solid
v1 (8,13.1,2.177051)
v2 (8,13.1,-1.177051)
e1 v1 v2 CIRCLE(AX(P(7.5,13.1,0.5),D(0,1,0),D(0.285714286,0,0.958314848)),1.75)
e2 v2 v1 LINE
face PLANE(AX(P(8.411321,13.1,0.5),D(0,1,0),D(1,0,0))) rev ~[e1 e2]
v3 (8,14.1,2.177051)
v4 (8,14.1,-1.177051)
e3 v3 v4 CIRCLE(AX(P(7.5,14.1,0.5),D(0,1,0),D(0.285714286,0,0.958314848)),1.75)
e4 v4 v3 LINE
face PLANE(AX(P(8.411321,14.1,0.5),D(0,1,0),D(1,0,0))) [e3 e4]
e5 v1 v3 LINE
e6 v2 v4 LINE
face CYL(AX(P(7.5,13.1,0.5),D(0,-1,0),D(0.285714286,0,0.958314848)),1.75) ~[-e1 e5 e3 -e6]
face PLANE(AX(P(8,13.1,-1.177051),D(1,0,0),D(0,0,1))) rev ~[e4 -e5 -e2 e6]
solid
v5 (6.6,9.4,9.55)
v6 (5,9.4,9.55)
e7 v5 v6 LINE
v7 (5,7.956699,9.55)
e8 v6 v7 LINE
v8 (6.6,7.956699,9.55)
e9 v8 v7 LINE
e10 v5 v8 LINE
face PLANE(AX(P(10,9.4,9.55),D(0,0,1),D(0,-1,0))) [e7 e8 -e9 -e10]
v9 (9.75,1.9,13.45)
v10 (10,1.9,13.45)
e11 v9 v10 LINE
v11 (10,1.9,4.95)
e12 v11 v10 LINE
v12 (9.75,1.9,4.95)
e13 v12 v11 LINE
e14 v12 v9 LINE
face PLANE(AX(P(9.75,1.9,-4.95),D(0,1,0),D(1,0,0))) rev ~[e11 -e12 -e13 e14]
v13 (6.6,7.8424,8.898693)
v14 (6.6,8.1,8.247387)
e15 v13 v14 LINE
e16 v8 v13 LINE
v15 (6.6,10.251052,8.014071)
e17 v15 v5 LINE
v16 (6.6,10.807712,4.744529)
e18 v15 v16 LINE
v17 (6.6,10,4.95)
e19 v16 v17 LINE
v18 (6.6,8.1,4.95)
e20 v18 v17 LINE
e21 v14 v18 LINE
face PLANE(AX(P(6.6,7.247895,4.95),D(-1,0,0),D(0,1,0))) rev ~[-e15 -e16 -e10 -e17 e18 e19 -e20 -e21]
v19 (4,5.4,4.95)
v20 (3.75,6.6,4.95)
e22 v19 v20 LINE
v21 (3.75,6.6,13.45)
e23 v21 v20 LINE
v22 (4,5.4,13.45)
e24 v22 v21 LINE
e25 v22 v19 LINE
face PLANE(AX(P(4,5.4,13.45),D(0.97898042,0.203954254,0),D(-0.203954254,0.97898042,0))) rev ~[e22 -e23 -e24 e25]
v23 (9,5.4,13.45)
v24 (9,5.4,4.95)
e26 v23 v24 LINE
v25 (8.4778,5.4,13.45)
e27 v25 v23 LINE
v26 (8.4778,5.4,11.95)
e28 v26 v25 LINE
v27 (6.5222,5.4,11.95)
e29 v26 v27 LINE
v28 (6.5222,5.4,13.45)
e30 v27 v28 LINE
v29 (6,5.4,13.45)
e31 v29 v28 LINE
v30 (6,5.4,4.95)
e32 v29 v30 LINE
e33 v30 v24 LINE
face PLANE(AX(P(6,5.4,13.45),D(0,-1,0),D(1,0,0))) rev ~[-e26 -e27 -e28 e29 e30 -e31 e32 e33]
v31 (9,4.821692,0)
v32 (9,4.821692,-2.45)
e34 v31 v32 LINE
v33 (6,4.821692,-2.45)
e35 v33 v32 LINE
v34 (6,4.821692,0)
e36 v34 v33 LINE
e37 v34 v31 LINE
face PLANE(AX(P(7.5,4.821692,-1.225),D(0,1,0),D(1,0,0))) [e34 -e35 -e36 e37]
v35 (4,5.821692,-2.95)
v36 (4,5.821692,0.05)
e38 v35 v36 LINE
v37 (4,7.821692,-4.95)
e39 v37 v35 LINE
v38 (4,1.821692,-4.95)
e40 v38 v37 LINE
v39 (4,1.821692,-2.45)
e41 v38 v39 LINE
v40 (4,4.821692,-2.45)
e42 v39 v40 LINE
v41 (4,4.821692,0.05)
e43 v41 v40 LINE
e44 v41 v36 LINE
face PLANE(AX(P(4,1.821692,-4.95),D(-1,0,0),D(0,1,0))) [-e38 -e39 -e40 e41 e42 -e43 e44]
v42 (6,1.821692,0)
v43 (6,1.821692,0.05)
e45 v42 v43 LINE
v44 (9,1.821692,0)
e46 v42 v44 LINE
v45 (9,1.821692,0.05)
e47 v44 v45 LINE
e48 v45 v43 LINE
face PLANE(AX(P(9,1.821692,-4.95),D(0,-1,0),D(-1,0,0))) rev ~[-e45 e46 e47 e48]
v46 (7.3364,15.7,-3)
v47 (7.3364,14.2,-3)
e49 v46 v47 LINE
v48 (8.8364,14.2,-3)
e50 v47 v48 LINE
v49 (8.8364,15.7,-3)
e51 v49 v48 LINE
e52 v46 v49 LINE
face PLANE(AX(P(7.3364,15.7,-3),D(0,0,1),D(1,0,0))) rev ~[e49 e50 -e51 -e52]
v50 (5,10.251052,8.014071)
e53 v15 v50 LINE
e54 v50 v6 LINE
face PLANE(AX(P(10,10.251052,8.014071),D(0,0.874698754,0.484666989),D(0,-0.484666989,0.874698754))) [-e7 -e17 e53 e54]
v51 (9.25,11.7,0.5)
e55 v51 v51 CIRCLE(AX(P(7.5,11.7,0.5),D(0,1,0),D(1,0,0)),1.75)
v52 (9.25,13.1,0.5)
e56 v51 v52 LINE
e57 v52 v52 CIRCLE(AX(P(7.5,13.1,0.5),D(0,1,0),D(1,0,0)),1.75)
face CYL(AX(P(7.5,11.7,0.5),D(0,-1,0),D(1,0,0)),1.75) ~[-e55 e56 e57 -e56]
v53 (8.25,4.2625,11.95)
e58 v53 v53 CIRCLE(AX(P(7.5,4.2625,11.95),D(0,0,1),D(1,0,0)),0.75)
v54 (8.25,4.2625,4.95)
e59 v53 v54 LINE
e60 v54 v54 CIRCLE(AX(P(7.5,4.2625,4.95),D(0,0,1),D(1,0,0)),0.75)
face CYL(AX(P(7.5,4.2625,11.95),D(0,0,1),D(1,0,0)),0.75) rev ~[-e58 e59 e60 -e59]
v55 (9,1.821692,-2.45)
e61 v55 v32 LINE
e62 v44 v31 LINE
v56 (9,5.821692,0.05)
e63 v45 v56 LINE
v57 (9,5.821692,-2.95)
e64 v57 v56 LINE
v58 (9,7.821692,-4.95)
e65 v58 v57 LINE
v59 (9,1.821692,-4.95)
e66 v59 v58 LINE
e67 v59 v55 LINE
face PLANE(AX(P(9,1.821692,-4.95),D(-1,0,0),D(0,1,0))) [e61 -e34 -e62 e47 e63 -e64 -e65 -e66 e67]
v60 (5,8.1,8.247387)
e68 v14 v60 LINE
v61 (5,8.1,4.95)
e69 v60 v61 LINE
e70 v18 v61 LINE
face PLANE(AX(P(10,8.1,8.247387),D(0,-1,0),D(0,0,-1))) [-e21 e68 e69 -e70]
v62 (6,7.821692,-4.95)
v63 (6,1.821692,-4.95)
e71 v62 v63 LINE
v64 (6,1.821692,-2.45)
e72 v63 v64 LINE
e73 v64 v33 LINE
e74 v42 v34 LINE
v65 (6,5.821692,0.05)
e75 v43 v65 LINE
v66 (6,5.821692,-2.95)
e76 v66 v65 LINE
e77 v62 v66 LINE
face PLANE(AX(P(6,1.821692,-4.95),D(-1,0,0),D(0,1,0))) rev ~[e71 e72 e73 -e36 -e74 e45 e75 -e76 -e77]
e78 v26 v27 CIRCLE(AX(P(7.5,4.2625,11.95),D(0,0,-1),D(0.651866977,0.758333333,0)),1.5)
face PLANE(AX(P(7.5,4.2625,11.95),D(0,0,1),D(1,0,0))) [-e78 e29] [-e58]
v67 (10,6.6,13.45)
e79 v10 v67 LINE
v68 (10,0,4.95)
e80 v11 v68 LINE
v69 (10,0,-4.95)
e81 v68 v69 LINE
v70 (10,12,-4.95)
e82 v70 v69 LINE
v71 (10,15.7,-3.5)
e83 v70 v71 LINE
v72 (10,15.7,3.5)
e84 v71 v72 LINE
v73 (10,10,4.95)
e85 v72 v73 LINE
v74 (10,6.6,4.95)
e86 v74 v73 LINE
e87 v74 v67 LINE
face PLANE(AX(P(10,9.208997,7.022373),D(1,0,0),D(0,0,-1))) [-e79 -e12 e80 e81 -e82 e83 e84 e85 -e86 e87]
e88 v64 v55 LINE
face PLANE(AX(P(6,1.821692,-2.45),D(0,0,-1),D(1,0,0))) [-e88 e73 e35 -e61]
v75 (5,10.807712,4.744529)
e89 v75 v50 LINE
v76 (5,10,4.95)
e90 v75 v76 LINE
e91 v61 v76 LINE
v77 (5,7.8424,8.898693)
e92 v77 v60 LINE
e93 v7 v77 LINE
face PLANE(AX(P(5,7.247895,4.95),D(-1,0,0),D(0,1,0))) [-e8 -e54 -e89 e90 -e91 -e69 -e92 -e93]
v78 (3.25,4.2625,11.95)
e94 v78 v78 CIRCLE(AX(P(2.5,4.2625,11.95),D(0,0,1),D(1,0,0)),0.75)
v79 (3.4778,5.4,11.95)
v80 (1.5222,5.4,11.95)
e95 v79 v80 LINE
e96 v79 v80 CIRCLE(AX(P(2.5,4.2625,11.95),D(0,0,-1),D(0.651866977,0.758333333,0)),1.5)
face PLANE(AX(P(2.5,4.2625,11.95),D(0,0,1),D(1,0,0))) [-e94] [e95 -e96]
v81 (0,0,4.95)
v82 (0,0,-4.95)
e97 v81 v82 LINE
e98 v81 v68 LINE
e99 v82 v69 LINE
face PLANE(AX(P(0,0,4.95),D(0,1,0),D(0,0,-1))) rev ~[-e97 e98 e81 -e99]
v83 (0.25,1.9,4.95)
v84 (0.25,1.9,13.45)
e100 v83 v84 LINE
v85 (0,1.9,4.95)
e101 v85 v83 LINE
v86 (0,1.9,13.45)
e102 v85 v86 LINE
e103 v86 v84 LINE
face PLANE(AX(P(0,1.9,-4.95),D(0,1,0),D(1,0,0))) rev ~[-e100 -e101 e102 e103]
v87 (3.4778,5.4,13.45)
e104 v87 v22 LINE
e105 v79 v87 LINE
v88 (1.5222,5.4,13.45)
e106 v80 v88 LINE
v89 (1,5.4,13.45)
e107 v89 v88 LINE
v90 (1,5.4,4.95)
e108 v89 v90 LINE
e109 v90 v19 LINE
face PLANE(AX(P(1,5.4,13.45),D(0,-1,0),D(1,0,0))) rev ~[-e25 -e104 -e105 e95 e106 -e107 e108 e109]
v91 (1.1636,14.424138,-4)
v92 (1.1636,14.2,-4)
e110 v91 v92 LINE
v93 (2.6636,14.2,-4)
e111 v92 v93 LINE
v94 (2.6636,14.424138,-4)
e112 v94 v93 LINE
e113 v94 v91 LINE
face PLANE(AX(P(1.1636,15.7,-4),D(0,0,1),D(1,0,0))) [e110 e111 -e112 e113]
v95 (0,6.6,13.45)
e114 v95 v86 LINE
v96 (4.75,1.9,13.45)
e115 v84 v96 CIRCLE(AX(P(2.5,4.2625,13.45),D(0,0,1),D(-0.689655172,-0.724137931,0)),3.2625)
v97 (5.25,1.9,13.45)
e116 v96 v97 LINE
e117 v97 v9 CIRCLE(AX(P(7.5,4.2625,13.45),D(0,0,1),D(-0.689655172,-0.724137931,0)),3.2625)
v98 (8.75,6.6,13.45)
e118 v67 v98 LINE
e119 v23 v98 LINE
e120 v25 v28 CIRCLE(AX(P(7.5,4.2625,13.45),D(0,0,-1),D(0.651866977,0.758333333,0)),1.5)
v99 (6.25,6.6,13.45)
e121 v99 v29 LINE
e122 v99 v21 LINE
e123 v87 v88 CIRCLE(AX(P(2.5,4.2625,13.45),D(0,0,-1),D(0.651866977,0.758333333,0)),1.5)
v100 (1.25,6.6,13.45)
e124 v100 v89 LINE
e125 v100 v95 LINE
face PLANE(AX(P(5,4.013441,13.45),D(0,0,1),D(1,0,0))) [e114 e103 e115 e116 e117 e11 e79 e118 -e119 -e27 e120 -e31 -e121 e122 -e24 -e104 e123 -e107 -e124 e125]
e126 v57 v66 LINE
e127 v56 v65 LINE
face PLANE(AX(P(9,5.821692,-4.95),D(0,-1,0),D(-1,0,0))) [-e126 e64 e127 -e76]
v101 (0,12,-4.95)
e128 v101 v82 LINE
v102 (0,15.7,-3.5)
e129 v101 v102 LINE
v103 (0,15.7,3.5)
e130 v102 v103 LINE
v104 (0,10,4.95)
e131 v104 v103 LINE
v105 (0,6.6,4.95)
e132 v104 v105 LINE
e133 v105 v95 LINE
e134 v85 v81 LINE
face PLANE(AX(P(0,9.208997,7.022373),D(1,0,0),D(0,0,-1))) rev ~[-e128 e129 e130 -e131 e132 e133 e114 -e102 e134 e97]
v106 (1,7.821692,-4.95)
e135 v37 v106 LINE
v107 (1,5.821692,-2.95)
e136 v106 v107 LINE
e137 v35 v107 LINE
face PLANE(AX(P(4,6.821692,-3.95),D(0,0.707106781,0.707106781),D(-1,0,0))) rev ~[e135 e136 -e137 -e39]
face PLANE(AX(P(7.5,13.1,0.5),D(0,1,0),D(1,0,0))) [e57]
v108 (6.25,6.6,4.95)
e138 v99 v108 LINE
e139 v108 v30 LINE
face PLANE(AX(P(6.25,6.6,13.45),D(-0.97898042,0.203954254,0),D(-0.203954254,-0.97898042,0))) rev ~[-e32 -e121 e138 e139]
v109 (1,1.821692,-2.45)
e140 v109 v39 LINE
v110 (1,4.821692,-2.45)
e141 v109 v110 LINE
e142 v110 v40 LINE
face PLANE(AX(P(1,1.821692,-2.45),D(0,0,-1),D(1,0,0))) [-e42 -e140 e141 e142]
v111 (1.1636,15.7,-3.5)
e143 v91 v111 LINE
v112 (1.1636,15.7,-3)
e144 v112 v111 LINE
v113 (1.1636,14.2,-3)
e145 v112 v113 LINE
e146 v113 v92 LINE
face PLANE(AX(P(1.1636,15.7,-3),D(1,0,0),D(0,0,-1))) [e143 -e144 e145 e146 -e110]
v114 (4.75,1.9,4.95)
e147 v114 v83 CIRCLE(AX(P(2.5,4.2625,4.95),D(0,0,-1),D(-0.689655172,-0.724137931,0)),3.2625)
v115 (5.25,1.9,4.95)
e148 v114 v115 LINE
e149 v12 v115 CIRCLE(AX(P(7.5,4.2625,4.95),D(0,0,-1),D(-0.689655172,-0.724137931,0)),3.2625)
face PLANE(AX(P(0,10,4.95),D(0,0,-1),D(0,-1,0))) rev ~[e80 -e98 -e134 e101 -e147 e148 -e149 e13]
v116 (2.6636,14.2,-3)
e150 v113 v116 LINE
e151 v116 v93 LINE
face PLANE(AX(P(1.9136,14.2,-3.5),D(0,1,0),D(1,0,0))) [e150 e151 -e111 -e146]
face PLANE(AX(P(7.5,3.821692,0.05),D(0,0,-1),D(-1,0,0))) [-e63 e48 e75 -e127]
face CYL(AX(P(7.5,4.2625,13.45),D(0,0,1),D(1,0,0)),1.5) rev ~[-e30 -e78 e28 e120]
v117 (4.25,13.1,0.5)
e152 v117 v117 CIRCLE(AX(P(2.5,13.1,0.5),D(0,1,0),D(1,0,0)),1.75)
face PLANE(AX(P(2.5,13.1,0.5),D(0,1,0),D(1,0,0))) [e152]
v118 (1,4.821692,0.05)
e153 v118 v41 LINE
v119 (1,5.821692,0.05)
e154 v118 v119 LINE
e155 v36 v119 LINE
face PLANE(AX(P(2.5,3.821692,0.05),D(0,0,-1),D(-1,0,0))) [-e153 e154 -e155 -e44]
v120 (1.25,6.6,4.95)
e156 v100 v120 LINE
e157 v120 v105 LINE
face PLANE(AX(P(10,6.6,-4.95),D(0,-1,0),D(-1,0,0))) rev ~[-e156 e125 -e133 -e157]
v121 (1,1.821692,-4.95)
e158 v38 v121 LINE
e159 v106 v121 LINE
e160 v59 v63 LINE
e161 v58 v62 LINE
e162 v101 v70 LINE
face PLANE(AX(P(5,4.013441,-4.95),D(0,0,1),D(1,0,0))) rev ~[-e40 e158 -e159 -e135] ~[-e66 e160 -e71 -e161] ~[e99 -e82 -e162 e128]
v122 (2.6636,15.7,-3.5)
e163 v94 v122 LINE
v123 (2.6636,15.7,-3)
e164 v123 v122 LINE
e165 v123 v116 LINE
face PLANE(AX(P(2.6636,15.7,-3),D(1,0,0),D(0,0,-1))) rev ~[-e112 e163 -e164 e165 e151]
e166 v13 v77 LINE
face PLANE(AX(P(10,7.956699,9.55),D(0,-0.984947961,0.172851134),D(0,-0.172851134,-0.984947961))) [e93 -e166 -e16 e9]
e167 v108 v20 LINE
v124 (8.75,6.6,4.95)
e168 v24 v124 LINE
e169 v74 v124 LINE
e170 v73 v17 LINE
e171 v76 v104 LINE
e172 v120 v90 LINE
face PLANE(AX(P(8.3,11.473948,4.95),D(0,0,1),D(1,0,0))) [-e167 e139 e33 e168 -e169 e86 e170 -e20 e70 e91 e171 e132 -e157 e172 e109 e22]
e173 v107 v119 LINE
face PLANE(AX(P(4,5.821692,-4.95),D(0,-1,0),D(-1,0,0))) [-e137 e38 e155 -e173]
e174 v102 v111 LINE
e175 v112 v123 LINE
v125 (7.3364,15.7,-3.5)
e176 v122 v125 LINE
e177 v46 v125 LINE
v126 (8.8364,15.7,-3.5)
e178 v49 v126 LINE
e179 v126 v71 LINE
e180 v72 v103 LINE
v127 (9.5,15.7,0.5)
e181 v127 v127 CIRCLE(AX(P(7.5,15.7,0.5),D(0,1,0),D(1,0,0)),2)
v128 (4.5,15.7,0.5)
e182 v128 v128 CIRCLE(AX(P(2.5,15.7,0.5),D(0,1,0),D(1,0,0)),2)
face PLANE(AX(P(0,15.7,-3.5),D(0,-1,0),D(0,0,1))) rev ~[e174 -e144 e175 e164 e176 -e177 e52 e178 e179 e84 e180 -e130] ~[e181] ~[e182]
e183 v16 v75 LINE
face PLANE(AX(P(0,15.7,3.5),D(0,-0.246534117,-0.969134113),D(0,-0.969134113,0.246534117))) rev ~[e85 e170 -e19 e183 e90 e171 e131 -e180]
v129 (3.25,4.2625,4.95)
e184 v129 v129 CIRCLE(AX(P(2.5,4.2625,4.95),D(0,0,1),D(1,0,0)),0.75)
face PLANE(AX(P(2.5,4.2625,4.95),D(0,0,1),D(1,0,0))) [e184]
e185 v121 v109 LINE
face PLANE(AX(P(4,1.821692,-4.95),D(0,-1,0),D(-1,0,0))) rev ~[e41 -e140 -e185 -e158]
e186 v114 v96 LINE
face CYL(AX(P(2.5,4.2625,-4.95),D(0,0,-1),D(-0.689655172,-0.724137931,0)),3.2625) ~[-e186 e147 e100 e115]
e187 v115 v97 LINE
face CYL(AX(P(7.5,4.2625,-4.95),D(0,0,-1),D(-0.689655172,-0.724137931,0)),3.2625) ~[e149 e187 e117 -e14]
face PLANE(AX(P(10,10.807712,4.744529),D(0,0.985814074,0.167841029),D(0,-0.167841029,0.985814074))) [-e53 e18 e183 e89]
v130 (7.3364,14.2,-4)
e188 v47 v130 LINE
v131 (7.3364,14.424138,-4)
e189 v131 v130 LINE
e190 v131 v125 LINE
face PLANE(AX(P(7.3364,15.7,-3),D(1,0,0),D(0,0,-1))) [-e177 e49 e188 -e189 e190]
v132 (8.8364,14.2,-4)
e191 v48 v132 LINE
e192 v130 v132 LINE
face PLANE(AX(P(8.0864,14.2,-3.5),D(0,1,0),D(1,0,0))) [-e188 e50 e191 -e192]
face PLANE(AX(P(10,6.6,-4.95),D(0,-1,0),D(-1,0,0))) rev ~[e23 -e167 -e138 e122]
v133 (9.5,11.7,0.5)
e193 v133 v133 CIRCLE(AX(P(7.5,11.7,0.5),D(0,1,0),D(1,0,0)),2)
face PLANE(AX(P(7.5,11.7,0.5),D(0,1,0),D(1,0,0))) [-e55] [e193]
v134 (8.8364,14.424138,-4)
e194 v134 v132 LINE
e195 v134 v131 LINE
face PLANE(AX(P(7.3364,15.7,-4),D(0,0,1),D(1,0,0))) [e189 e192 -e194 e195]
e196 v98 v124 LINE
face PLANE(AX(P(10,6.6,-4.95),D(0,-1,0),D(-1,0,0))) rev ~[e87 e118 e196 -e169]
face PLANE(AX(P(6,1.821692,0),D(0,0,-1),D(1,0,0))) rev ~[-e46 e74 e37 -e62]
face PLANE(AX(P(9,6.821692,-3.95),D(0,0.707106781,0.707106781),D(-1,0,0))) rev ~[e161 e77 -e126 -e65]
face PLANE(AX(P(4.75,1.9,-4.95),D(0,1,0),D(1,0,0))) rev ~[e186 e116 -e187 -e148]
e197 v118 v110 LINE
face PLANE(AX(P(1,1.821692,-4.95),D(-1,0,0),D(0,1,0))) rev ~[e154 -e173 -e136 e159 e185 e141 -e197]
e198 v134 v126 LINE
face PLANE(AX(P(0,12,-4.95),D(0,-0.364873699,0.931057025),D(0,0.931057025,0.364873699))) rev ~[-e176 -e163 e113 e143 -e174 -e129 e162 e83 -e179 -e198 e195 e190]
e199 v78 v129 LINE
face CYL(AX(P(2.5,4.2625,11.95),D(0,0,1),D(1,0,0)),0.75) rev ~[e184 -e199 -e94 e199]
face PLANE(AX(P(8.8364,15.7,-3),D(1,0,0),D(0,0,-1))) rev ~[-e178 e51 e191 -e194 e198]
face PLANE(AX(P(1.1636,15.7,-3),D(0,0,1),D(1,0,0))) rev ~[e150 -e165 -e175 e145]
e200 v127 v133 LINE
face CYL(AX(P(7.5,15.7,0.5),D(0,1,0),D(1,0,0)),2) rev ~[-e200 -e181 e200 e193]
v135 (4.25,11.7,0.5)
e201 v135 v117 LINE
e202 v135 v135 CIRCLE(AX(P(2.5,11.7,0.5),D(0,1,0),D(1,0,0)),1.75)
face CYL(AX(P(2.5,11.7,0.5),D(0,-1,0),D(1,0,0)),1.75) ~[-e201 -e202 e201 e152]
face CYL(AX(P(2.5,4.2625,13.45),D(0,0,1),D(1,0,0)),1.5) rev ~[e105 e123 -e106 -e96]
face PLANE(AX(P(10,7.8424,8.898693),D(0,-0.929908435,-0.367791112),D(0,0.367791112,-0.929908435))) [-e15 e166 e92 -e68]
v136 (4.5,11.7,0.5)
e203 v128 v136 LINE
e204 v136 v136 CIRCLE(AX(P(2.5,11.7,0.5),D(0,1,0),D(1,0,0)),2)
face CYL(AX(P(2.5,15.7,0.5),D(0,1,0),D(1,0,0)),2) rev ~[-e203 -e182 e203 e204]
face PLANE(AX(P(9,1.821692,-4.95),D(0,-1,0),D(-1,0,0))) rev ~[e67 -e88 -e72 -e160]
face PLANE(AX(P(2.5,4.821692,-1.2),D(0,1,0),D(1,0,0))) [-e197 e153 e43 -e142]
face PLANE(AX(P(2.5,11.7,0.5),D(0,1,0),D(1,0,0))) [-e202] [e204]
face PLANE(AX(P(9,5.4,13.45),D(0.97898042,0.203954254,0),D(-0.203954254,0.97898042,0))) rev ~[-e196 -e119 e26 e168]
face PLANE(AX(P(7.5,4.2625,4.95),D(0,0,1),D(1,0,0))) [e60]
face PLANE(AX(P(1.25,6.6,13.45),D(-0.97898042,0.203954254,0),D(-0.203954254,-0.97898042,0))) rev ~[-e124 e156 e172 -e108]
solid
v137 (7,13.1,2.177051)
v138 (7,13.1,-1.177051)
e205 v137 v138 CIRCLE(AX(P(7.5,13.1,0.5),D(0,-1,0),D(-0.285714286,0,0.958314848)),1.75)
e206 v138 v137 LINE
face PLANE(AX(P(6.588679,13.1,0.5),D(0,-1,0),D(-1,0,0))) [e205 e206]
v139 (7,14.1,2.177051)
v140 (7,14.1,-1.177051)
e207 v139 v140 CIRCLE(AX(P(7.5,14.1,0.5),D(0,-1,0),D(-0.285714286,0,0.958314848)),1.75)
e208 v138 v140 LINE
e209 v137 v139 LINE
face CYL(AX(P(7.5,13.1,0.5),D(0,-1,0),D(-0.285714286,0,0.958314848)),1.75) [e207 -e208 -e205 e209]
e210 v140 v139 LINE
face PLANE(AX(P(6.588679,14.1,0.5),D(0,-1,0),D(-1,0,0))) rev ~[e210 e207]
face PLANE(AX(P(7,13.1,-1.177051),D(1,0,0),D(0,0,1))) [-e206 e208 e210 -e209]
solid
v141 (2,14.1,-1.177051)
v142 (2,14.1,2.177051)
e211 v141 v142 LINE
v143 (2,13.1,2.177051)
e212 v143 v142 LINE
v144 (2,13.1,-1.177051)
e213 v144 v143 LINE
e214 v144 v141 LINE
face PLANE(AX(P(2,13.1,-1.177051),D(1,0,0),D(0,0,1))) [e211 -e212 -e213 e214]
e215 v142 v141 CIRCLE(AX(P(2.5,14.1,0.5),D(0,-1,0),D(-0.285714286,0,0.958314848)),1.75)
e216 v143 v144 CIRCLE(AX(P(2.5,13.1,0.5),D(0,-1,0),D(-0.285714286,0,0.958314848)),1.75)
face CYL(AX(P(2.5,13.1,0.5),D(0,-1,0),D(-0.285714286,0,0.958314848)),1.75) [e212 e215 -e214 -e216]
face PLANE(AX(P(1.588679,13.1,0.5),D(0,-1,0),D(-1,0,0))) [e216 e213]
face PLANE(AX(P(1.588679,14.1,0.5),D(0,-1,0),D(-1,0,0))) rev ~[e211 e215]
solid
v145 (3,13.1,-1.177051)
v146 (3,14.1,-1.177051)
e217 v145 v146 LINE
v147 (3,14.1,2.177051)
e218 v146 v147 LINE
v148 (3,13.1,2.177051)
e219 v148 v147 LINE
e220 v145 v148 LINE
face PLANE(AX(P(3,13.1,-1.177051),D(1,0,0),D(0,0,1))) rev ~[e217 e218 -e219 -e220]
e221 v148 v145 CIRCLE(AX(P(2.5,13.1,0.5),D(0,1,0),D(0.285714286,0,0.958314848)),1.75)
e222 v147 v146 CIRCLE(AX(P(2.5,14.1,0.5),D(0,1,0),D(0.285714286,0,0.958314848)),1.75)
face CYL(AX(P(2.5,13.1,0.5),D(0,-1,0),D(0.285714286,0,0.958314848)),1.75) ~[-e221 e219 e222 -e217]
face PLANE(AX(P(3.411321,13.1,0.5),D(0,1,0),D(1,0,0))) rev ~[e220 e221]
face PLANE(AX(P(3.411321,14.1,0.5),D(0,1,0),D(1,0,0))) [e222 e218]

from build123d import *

# Parameters (mm, degrees)
AUFSATZ_LINEAR_AUSTRAGEN1_DEPTH             = 10
AUFSATZ_LINEAR_START                        = -9.9
AUFSATZ_LINEAR_AUSTRAGEN2_DEPTH             = 18.4
SCHNITT_LINEAR_AUSTRAGEN1_DEPTH             = 8.5
SKIZZE4_R                                   = 1.5
SCHNITT_LINEAR_AUSTRAGEN2_DEPTH             = 1.5
AUFSATZ_LINEAR_AUSTRAGEN4_DEPTH             = 10
SCHNITT_LINEAR_AUSTRAGEN3_REACH             = 11.9
SKIZZE6_W                                   = 5
SKIZZE6_H                                   = 8.452104708
SKIZZE6_W_2                                 = 3.4
SCHNITT_LINEAR_AUSTRAGEN3_DIRECTION_2_DEPTH = 9.5
SKIZZE7_W                                   = 1.5
SKIZZE7_H                                   = 1
SCHNITT_LINEAR_AUSTRAGEN4_DEPTH             = 1.5
SKIZZE8_R                                   = 2
SCHNITT_LINEAR_AUSTRAGEN5_DEPTH             = 4
SKIZZE9_W                                   = 3
SKIZZE9_H                                   = 4
SCHNITT_LINEAR_AUSTRAGEN6_DEPTH             = 5
SKIZZE10_R                                  = 0.75
SCHNITT_LINEAR_AUSTRAGEN7_DEPTH             = 7
FASE1_SIZE                                  = 2
SKIZZE11_W                                  = 3
SKIZZE11_H                                  = 2.45
SKIZZE11_H_2                                = 2.5
AUFSATZ_LINEAR_AUSTRAGEN5_DEPTH             = 3
SKIZZE12_R                                  = 1.75
AUFSATZ_LINEAR_AUSTRAGEN6_DEPTH             = 1.4
AUFSATZ_LINEAR_AUSTRAGEN7_DEPTH             = 1
AUFSATZ_LINEAR_AUSTRAGEN7_2_DEPTH           = 1
AUFSATZ_LINEAR_AUSTRAGEN7_3_DEPTH           = 1
AUFSATZ_LINEAR_AUSTRAGEN7_4_DEPTH           = 1


with BuildPart() as part:
    # Skizze1 → Aufsatz-Linear austragen1 (new body)
    with BuildSketch(Plane(origin=(0, 0, 0), x_dir=(0, 0, -1), z_dir=(1, 0, 0))):
        Polygon((3.5, 15.7), (-3.5, 15.7), (-4.95, 10), (-4.95, 0), (4.95, 0), (4.95, 12), align=None)
    extrude(amount=AUFSATZ_LINEAR_AUSTRAGEN1_DEPTH)

    # Skizze2 → Aufsatz-Linear austragen2 (add)
    with BuildSketch(Plane.XY.offset(4.95).offset(AUFSATZ_LINEAR_START)):
        with BuildLine():
            Line((4.75, 1.9), (5.25, 1.9))
            ThreePointArc((5.25, 1.9), (7.5, 1), (9.75, 1.9))
            Line((9.75, 1.9), (10, 1.9))
            Line((10, 1.9), (10, 6.6))
            Line((10, 6.6), (0, 6.6))
            Line((0, 6.6), (0, 1.9))
            Line((0, 1.9), (0.25, 1.9))
            ThreePointArc((0.25, 1.9), (2.5, 1), (4.75, 1.9))
        make_face()
    extrude(amount=AUFSATZ_LINEAR_AUSTRAGEN2_DEPTH)

    # Skizze3 → Schnitt-Linear austragen1 (cut)
    with BuildSketch(Plane.XY.offset(13.45)):
        Polygon((1.25, 6.6), (1, 5.4), (4, 5.4), (3.75, 6.6), align=None)
        Polygon((6.25, 6.6), (6, 5.4), (9, 5.4), (8.75, 6.6), align=None)
    extrude(amount=-SCHNITT_LINEAR_AUSTRAGEN1_DEPTH, mode=Mode.SUBTRACT)

    # Skizze4 → Schnitt-Linear austragen2 (cut)
    with BuildSketch(Plane.XY.offset(13.45)):
        with Locations((2.5, 4.2625)):
            Circle(SKIZZE4_R)
        with Locations((7.5, 4.2625)):
            Circle(SKIZZE4_R)
    extrude(amount=-SCHNITT_LINEAR_AUSTRAGEN2_DEPTH, mode=Mode.SUBTRACT)

    # Skizze5 → Aufsatz-Linear austragen4 (add, through all)
    with BuildSketch(Plane(origin=(10, 0, 0), x_dir=(0, 0, -1), z_dir=(1, 0, 0))):
        Polygon((-4.744529464, 10.807711762), (-8.014071378, 10.251051744), (-9.55, 9.4), (-9.55, 7.956699146), (-8.898693464, 7.842399632), (-8.247386929, 8.1), (-4.95, 8.1), (-4.95, 10), align=None)
    extrude(amount=-AUFSATZ_LINEAR_AUSTRAGEN4_DEPTH)

    # Schnitt-Linear austragen3: up to this face of the body (flat: up to its plane)
    schnitt_linear_austragen3_end = Plane(part.part.faces().sort_by_distance((5, 13.253855881, 4.122264732))[0])
    # Skizze6 → Schnitt-Linear austragen3 (cut, up to the picked face)
    with BuildSketch(Plane.XY.offset(4.95), mode=Mode.PRIVATE) as schnitt_linear_austragen3_sk1:
        with Locations((2.5, 11.473947646)):
            Rectangle(SKIZZE6_W, SKIZZE6_H)
    schnitt_linear_austragen3_tool1 = split(extrude(schnitt_linear_austragen3_sk1.sketch, amount=-SCHNITT_LINEAR_AUSTRAGEN3_REACH, mode=Mode.PRIVATE), bisect_by=schnitt_linear_austragen3_end, keep=Keep.BOTH, mode=Mode.PRIVATE)
    add(schnitt_linear_austragen3_tool1.solids().sort_by_distance((2.5, 11.473948, 4.95))[0], mode=Mode.SUBTRACT)
    # Skizze6 → Schnitt-Linear austragen3 (cut, up to the picked face)
    with BuildSketch(Plane.XY.offset(4.95), mode=Mode.PRIVATE) as schnitt_linear_austragen3_sk2:
        with Locations((8.3, 11.473947646)):
            Rectangle(SKIZZE6_W_2, SKIZZE6_H)
    schnitt_linear_austragen3_tool2 = split(extrude(schnitt_linear_austragen3_sk2.sketch, amount=-SCHNITT_LINEAR_AUSTRAGEN3_REACH, mode=Mode.PRIVATE), bisect_by=schnitt_linear_austragen3_end, keep=Keep.BOTH, mode=Mode.PRIVATE)
    add(schnitt_linear_austragen3_tool2.solids().sort_by_distance((8.3, 11.473948, 4.95))[0], mode=Mode.SUBTRACT)

    # Skizze6 → Schnitt-Linear austragen3 direction 2 (cut)
    with BuildSketch(Plane.XY.offset(4.95)):
        with Locations((2.5, 11.473947646)):
            Rectangle(SKIZZE6_W, SKIZZE6_H)
        with Locations((8.3, 11.473947646)):
            Rectangle(SKIZZE6_W_2, SKIZZE6_H)
    extrude(amount=SCHNITT_LINEAR_AUSTRAGEN3_DIRECTION_2_DEPTH, mode=Mode.SUBTRACT)

    # Skizze7 → Schnitt-Linear austragen4 (cut)
    with BuildSketch(Plane(origin=(0, 15.7, 0), x_dir=(1, 0, 0), z_dir=(0, 1, 0))):
        with Locations((1.913600435, 3.5)):
            Rectangle(SKIZZE7_W, SKIZZE7_H)
        with Locations((8.086399565, 3.5)):
            Rectangle(SKIZZE7_W, SKIZZE7_H)
    extrude(amount=-SCHNITT_LINEAR_AUSTRAGEN4_DEPTH, mode=Mode.SUBTRACT)

    # Skizze8 → Schnitt-Linear austragen5 (cut)
    with BuildSketch(Plane(origin=(0, 15.7, 0), x_dir=(1, 0, 0), z_dir=(0, 1, 0))):
        with Locations((2.5, -0.5)):
            Circle(SKIZZE8_R)
        with Locations((7.5, -0.5)):
            Circle(SKIZZE8_R)
    extrude(amount=-SCHNITT_LINEAR_AUSTRAGEN5_DEPTH, mode=Mode.SUBTRACT)

    # Skizze9 → Schnitt-Linear austragen6 (cut)
    with BuildSketch(Plane(origin=(0, 0, -4.95), x_dir=(-1, 0, 0), z_dir=(0, 0, -1))):
        with Locations((-7.5, 3.821692415)):
            Rectangle(SKIZZE9_W, SKIZZE9_H)
        with Locations((-2.5, 3.821692415)):
            Rectangle(SKIZZE9_W, SKIZZE9_H)
    extrude(amount=-SCHNITT_LINEAR_AUSTRAGEN6_DEPTH, mode=Mode.SUBTRACT)

    # Skizze10 → Schnitt-Linear austragen7 (cut)
    with BuildSketch(Plane.XY.offset(11.95)):
        with Locations((2.5, 4.2625)):
            Circle(SKIZZE10_R)
        with Locations((7.5, 4.2625)):
            Circle(SKIZZE10_R)
    extrude(amount=-SCHNITT_LINEAR_AUSTRAGEN7_DEPTH, mode=Mode.SUBTRACT)

    # Fase1
    fase1_edges = [part.edges().sort_by_distance(p)[0] for p in [
        (7.5, 5.821692415, -4.95),
        (2.5, 5.821692415, -4.95),
    ]]
    chamfer(fase1_edges, length=FASE1_SIZE)

    # Skizze11 → Aufsatz-Linear austragen5 (add)
    with BuildSketch(Plane(origin=(0, 1.821692415, 0), x_dir=(1, 0, 0), z_dir=(0, 1, 0))):
        with Locations((7.5, 1.225)):
            Rectangle(SKIZZE11_W, SKIZZE11_H)
        with Locations((2.5, 1.2)):
            Rectangle(SKIZZE11_W, SKIZZE11_H_2)
    extrude(amount=AUFSATZ_LINEAR_AUSTRAGEN5_DEPTH)

    # Skizze12 → Aufsatz-Linear austragen6 (add)
    with BuildSketch(Plane(origin=(0, 11.7, 0), x_dir=(1, 0, 0), z_dir=(0, 1, 0))):
        with Locations((7.5, -0.5)):
            Circle(SKIZZE12_R)
        with Locations((2.5, -0.5)):
            Circle(SKIZZE12_R)
    extrude(amount=AUFSATZ_LINEAR_AUSTRAGEN6_DEPTH)


with BuildPart() as body_2:
    # Skizze13 → Aufsatz-Linear austragen7 (new body)
    with BuildSketch(Plane(origin=(0, 13.1, 0), x_dir=(1, 0, 0), z_dir=(0, 1, 0))):
        with BuildLine():
            Line((2, 1.177050983), (2, -2.177050983))
            ThreePointArc((2, -2.177050983), (0.75, -0.5), (2, 1.177050983))
        make_face()
    extrude(amount=AUFSATZ_LINEAR_AUSTRAGEN7_DEPTH)


with BuildPart() as body_3:
    # Skizze13 → Aufsatz-Linear austragen7 2 (new body)
    with BuildSketch(Plane(origin=(0, 13.1, 0), x_dir=(1, 0, 0), z_dir=(0, 1, 0))):
        with BuildLine():
            Line((3, 1.177050983), (3, -2.177050983))
            ThreePointArc((3, -2.177050983), (4.25, -0.5), (3, 1.177050983))
        make_face()
    extrude(amount=AUFSATZ_LINEAR_AUSTRAGEN7_2_DEPTH)


with BuildPart() as body_4:
    # Skizze13 → Aufsatz-Linear austragen7 3 (new body)
    with BuildSketch(Plane(origin=(0, 13.1, 0), x_dir=(1, 0, 0), z_dir=(0, 1, 0))):
        with BuildLine():
            Line((7, 1.177050983), (7, -2.177050983))
            ThreePointArc((7, -2.177050983), (5.75, -0.5), (7, 1.177050983))
        make_face()
    extrude(amount=AUFSATZ_LINEAR_AUSTRAGEN7_3_DEPTH)


with BuildPart() as body_5:
    # Skizze13 → Aufsatz-Linear austragen7 4 (new body)
    with BuildSketch(Plane(origin=(0, 13.1, 0), x_dir=(1, 0, 0), z_dir=(0, 1, 0))):
        with BuildLine():
            Line((8, 1.177050983), (8, -2.177050983))
            ThreePointArc((8, -2.177050983), (9.25, -0.5), (8, 1.177050983))
        make_face()
    extrude(amount=AUFSATZ_LINEAR_AUSTRAGEN7_4_DEPTH)


solid = Compound([part.part, body_2.part, body_3.part, body_4.part, body_5.part])
